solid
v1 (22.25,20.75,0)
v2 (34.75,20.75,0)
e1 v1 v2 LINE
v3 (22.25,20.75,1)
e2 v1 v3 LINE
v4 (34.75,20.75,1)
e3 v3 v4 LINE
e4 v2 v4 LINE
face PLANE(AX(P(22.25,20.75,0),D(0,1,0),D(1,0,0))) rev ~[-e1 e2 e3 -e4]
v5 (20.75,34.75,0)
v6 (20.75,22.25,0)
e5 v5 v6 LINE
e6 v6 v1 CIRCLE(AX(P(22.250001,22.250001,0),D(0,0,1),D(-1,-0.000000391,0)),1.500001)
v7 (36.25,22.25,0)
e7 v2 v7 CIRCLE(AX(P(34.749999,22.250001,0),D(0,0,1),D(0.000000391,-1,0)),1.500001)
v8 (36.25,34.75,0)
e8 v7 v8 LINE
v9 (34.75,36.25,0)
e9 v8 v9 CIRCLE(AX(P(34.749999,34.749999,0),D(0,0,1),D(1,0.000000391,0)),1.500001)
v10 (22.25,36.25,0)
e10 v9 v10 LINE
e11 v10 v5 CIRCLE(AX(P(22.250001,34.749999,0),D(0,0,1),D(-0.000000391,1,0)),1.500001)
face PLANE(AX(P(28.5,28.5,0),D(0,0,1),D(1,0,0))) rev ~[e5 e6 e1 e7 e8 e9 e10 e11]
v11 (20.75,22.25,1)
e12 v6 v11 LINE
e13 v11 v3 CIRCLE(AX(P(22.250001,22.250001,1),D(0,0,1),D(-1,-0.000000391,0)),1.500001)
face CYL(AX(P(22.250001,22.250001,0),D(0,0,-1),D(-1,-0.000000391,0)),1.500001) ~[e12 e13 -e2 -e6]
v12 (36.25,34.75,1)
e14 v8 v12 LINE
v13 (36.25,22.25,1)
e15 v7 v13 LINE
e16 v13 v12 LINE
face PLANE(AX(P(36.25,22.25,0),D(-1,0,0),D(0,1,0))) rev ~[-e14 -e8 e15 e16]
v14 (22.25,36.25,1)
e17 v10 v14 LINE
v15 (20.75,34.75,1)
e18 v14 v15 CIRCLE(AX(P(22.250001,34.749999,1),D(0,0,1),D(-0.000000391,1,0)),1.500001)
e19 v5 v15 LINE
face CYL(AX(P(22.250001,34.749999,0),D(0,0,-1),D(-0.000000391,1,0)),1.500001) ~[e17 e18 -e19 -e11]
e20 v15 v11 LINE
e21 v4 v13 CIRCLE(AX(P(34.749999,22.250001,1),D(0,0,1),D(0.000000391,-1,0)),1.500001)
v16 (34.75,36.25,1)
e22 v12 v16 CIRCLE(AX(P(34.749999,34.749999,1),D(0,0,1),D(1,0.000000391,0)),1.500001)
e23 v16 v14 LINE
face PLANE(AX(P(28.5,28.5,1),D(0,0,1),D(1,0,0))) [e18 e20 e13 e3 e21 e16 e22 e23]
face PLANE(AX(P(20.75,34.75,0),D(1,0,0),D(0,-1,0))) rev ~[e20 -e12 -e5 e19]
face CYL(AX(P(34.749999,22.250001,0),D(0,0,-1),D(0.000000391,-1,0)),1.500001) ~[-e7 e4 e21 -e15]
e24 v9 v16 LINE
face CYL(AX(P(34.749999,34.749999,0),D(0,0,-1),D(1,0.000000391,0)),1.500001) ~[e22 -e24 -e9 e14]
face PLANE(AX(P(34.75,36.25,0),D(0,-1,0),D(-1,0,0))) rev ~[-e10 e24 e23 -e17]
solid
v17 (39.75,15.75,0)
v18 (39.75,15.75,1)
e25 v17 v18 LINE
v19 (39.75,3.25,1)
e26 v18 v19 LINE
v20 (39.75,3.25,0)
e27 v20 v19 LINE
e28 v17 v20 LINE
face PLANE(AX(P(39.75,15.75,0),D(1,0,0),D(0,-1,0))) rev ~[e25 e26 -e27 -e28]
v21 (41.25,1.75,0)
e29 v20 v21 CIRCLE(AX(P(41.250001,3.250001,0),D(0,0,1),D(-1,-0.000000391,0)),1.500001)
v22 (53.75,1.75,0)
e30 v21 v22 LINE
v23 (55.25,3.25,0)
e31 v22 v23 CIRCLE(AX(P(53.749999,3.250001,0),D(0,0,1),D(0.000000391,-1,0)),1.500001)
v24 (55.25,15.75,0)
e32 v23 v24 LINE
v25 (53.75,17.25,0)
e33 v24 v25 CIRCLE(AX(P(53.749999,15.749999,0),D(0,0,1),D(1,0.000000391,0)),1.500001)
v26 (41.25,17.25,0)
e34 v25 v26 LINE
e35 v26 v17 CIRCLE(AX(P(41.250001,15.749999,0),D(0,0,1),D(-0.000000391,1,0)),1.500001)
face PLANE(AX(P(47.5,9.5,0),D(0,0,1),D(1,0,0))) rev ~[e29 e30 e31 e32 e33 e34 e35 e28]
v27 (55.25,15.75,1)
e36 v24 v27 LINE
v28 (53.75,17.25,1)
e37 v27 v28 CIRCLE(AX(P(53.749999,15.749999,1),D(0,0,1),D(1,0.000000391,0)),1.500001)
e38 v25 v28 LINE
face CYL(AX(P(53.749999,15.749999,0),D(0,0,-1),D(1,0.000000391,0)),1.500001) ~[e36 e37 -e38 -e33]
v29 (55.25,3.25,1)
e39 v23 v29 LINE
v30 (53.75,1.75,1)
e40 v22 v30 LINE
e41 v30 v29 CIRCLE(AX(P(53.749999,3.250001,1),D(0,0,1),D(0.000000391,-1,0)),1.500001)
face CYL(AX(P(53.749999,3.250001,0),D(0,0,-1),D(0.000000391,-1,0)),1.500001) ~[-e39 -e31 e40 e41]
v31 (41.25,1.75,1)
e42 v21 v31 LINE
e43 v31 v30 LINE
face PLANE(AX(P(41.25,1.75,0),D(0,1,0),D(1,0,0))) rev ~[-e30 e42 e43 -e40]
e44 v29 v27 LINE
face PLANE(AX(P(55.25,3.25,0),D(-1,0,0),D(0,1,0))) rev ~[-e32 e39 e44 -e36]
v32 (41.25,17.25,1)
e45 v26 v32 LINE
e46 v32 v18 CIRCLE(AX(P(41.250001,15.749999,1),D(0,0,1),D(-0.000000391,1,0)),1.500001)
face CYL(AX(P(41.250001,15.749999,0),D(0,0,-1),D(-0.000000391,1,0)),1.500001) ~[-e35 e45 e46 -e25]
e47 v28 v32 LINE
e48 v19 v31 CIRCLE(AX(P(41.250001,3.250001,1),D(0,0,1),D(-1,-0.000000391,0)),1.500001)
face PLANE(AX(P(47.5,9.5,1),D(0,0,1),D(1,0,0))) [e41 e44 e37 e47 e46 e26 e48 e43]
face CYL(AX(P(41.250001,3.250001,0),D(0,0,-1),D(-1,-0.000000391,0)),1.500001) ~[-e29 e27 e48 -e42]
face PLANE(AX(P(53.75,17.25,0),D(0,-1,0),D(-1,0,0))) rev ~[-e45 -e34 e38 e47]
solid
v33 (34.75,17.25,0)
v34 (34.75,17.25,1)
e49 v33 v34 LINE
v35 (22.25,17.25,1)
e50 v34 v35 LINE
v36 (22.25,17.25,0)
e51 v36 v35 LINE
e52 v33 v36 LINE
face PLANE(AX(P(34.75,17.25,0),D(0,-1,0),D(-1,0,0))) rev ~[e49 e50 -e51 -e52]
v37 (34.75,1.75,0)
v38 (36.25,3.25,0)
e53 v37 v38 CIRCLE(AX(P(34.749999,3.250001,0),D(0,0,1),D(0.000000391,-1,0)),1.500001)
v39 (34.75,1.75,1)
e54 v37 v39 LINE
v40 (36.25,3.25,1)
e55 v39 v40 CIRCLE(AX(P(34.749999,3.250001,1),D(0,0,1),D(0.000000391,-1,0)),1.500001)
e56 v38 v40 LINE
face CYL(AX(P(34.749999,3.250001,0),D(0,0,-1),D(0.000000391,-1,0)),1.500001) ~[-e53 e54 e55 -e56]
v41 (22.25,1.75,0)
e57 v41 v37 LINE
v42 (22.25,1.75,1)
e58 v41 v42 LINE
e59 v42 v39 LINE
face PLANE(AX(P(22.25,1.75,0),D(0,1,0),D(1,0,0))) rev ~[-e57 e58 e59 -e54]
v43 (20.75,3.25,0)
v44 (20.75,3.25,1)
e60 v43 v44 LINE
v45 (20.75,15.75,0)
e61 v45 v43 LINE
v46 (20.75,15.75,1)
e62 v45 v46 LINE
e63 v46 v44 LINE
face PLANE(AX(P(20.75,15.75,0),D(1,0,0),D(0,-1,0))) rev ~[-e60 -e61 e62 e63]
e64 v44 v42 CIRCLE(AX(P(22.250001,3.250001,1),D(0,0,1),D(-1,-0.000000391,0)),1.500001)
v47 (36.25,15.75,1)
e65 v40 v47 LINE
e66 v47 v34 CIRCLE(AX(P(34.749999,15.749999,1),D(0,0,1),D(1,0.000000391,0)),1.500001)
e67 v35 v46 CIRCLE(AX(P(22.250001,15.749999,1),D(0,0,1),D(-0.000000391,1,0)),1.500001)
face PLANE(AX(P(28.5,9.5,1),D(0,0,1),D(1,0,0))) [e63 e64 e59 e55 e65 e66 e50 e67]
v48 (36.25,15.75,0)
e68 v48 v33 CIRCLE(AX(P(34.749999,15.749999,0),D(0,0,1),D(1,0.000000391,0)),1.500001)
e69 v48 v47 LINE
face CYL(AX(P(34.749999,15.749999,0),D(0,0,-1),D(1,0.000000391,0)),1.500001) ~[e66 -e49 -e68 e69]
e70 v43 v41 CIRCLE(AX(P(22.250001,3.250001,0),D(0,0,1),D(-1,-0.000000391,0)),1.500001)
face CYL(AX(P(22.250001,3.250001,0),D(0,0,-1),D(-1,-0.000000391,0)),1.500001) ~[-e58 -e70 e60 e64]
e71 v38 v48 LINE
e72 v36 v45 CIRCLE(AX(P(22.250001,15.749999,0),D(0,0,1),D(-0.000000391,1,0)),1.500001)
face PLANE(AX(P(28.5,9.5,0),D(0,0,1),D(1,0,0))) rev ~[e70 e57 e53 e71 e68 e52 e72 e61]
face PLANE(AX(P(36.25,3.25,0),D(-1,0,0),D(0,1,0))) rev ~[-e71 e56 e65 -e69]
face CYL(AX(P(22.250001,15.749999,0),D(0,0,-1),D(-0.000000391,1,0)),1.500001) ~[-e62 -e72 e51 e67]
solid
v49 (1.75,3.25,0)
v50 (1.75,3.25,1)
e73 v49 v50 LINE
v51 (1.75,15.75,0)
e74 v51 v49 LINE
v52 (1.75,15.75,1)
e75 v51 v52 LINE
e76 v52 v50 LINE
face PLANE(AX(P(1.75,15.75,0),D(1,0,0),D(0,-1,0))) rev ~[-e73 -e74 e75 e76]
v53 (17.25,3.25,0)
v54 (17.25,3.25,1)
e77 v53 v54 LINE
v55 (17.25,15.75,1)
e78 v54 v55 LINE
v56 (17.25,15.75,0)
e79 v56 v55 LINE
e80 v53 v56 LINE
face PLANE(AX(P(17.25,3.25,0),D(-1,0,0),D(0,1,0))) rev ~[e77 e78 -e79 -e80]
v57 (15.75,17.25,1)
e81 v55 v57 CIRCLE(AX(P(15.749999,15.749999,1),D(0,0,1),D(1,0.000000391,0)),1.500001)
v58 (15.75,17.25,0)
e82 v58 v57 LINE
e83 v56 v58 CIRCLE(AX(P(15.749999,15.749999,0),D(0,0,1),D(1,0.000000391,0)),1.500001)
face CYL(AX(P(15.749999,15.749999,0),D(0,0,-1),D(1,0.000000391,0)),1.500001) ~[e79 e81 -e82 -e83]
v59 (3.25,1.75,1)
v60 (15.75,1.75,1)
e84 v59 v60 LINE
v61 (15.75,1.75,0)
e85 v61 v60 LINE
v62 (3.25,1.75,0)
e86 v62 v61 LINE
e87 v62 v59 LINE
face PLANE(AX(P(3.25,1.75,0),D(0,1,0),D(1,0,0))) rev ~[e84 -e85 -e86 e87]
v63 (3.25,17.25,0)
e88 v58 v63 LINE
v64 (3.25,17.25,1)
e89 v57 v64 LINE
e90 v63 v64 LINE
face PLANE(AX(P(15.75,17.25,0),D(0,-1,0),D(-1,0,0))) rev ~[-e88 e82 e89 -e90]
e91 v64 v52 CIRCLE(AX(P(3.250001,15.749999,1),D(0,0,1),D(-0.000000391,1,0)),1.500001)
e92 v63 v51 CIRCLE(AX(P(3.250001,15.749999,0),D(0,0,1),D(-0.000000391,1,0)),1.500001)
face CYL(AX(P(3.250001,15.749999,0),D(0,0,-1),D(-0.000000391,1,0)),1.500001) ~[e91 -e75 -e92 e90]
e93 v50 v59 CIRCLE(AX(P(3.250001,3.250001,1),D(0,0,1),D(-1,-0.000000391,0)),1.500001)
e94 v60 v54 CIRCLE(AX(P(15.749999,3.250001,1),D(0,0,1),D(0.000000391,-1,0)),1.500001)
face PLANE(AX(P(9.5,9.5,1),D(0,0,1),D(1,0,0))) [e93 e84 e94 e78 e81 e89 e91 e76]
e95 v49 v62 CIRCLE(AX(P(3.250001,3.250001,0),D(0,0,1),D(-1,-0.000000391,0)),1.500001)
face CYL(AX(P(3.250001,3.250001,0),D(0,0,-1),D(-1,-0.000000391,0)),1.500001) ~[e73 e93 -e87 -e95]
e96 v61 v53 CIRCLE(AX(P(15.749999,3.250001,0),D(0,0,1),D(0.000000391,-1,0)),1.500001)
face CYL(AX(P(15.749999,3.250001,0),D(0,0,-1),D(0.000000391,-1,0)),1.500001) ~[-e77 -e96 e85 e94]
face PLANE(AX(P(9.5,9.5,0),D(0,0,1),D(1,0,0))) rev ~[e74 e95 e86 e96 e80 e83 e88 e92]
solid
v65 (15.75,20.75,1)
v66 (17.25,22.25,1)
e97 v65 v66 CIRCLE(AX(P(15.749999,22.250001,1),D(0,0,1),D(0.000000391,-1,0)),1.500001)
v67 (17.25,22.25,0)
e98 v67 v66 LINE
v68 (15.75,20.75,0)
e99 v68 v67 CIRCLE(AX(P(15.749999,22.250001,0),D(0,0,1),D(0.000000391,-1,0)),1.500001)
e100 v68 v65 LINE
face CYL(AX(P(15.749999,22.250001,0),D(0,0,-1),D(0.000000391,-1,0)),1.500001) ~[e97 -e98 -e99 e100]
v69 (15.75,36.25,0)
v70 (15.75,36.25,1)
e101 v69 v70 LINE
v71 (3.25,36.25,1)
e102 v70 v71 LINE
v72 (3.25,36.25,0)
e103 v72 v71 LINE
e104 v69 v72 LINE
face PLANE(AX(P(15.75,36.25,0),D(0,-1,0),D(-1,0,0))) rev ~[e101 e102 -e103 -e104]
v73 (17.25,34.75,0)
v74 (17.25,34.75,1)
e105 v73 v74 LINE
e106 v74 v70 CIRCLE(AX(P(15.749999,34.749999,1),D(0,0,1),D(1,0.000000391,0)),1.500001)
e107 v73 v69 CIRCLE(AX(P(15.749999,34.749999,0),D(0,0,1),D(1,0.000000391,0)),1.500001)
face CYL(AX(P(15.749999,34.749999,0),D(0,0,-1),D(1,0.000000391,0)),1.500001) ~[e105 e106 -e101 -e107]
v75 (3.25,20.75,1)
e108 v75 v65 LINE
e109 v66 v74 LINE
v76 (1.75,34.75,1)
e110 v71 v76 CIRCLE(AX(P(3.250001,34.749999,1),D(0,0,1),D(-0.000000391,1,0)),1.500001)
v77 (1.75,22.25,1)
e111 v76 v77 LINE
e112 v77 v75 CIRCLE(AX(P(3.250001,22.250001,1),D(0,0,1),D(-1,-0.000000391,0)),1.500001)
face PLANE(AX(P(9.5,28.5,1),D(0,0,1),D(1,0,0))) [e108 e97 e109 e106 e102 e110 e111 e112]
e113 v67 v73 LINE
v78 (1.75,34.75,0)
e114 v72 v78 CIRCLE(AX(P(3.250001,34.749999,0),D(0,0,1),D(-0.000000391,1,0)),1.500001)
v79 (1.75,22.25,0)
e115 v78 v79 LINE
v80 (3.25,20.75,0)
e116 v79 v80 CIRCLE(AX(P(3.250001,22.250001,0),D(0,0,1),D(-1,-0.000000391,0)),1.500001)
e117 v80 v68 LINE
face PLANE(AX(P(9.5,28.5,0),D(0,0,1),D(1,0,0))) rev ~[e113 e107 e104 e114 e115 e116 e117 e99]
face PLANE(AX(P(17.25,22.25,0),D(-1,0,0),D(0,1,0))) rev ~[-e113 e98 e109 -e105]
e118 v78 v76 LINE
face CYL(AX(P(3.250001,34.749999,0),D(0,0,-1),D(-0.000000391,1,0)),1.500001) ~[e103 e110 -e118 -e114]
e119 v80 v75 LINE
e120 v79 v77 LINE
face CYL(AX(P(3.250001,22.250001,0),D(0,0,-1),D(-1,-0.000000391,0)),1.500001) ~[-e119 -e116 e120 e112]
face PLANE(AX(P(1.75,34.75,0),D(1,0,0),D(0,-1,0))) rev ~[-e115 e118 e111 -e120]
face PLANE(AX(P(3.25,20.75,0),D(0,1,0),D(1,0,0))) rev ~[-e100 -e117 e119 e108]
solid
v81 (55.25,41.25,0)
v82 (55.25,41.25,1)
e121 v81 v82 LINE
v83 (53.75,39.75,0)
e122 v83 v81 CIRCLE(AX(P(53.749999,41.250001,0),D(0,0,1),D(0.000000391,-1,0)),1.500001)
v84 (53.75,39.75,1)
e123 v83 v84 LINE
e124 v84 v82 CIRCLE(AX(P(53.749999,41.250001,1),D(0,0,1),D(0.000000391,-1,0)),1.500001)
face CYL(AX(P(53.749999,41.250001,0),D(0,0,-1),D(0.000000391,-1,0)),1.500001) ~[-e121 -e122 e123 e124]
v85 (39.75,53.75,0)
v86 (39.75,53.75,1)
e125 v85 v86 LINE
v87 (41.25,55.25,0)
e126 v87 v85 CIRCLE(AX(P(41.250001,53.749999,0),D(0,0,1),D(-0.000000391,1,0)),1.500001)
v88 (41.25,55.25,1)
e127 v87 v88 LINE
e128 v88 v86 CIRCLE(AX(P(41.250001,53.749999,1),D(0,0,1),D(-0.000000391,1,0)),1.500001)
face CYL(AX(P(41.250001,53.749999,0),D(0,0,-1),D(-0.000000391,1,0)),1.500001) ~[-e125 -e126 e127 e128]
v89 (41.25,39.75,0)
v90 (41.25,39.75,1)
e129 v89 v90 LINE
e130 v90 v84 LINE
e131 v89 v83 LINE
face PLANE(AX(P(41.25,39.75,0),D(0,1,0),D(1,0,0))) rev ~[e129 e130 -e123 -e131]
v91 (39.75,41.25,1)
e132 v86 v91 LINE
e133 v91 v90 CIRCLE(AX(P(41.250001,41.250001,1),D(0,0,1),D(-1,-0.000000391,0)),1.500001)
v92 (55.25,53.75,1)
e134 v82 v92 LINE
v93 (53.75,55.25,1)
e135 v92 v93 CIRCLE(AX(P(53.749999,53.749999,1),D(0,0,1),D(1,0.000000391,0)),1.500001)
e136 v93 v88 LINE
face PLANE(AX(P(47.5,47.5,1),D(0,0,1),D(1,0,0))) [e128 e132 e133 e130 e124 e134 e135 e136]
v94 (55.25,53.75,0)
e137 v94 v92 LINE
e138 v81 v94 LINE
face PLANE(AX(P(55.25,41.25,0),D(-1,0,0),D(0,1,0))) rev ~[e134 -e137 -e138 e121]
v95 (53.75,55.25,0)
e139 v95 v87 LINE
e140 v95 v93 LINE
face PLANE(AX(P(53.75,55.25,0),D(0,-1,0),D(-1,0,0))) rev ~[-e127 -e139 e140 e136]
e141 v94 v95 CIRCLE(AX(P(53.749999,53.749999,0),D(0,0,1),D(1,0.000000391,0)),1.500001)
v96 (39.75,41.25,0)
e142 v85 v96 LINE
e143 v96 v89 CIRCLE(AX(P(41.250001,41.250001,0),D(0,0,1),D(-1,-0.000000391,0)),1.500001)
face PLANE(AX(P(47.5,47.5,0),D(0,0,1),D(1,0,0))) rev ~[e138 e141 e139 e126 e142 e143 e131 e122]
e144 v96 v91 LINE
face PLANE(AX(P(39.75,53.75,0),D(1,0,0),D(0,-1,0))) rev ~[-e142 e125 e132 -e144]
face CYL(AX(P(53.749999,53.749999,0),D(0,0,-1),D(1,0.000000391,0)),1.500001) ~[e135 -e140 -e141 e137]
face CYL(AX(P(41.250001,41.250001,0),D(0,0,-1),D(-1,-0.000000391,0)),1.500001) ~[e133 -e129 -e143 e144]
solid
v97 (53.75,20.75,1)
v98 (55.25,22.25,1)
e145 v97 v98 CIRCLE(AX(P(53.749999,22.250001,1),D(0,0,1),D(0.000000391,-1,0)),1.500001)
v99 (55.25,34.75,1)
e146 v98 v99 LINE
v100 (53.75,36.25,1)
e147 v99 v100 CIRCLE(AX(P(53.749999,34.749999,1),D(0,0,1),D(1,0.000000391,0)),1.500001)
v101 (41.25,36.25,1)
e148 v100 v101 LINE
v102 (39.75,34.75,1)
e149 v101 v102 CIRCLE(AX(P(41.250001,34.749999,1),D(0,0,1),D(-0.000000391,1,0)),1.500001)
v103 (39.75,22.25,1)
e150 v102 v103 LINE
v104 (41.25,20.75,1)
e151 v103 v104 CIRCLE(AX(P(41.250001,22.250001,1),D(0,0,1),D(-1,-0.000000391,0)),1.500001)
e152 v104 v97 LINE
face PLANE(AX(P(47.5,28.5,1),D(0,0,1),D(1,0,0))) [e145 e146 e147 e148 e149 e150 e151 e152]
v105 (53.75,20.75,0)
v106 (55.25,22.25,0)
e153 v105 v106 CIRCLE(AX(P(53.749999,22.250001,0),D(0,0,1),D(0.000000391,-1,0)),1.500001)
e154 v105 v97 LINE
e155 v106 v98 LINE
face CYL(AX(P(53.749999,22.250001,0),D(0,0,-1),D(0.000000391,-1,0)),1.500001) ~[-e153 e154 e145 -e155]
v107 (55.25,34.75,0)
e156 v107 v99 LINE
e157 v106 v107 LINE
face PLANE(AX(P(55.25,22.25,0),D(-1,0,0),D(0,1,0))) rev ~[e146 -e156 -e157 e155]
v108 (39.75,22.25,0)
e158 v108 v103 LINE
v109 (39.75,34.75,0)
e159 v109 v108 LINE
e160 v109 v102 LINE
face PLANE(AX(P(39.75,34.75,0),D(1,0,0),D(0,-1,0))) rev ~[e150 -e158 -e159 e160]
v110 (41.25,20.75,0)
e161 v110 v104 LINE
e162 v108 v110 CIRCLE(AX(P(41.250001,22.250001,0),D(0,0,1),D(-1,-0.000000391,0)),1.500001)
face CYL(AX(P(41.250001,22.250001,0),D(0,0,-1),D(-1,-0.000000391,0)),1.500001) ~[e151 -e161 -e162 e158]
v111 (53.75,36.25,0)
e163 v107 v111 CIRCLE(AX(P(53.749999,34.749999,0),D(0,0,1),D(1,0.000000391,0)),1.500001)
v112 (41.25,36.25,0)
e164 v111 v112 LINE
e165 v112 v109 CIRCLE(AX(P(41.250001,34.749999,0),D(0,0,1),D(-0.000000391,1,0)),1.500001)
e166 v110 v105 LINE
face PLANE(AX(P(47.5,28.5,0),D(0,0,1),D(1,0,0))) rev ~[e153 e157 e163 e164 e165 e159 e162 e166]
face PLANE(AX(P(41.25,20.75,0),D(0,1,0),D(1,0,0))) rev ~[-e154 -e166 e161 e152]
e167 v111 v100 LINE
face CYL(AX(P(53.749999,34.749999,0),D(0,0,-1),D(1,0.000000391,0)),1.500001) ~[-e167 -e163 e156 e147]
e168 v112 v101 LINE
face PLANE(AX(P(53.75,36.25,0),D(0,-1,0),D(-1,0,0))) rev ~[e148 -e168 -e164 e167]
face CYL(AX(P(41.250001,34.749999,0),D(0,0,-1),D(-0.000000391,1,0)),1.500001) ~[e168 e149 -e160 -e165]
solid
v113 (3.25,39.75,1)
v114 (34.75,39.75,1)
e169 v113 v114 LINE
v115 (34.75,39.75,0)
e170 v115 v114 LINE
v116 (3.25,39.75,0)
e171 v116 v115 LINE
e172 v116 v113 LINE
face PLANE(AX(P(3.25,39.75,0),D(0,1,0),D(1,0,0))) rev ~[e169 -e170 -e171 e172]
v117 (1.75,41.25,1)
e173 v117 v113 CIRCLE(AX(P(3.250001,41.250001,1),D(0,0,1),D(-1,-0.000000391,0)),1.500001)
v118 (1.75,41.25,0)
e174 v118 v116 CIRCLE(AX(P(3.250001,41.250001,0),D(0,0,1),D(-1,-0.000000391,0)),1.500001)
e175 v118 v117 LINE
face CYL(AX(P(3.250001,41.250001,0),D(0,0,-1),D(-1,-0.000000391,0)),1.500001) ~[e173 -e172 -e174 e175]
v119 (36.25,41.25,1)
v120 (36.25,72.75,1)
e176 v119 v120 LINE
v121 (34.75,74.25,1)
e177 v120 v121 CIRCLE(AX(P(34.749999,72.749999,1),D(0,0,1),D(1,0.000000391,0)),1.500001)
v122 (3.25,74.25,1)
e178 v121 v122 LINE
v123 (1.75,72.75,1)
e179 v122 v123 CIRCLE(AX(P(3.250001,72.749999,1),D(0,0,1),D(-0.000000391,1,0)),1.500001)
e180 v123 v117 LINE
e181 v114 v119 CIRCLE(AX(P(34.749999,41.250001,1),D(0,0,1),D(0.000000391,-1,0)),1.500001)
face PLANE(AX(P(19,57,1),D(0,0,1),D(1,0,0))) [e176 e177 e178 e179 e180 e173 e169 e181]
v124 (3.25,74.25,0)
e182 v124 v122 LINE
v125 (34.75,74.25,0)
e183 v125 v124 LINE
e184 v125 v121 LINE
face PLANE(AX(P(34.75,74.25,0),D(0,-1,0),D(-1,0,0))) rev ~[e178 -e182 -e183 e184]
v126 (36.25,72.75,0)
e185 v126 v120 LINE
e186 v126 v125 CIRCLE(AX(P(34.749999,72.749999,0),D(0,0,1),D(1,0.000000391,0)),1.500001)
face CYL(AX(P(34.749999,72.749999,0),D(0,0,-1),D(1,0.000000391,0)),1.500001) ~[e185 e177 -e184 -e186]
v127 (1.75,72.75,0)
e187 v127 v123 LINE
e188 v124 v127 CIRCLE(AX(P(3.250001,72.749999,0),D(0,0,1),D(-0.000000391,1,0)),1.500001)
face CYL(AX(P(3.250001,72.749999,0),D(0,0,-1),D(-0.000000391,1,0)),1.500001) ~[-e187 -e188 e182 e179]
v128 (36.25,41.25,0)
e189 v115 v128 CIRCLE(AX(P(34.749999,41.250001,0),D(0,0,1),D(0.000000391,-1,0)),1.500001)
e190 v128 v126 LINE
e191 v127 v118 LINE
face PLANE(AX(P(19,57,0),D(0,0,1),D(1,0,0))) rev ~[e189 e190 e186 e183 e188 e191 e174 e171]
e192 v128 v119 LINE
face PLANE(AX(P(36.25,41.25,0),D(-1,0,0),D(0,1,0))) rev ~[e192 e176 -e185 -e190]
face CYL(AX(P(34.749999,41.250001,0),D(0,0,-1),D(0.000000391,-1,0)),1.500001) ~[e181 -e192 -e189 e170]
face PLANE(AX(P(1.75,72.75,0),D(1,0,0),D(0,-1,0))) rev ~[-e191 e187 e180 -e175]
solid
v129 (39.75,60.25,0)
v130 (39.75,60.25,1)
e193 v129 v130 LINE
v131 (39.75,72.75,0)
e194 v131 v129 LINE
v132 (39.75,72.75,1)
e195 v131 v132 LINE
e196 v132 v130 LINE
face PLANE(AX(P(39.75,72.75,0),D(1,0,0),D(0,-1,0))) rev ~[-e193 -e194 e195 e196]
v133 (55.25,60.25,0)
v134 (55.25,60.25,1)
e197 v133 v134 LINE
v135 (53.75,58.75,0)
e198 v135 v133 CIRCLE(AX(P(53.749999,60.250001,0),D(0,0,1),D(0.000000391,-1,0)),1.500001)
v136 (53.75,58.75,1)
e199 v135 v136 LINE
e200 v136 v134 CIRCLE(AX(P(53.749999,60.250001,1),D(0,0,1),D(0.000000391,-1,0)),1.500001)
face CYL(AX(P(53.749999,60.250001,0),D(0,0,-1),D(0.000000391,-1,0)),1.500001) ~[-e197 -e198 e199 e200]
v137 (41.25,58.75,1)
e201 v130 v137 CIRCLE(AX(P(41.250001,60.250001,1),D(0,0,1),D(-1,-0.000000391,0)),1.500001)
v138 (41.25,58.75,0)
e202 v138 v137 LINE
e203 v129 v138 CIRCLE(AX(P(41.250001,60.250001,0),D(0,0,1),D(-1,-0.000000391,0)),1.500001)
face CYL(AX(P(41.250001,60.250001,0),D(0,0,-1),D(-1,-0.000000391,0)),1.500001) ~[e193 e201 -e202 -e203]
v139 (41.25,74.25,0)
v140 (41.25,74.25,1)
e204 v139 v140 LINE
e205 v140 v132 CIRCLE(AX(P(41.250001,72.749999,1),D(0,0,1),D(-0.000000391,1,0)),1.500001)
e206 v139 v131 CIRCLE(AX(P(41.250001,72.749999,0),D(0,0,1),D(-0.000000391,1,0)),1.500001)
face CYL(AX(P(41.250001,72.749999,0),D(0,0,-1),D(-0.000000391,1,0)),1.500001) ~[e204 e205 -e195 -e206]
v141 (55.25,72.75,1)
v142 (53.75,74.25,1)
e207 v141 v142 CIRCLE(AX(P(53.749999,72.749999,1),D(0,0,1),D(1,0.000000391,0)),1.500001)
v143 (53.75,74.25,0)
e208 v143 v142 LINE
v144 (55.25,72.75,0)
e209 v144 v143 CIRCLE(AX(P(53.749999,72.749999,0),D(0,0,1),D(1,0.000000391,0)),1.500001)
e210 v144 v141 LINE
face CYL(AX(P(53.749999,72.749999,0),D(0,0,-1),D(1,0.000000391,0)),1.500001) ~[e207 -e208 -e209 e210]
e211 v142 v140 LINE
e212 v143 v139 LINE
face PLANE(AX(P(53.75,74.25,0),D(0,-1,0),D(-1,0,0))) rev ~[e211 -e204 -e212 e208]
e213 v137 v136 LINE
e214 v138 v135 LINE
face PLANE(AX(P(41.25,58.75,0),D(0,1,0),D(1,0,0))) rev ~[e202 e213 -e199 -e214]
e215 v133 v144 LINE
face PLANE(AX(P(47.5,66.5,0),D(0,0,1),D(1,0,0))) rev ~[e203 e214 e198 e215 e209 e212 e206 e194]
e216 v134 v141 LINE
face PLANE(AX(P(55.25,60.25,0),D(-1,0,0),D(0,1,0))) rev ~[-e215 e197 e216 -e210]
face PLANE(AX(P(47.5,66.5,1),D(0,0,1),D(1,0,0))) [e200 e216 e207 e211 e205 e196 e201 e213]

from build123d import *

# Parameters (mm, degrees)
F1_DEPTH = 1


with BuildPart() as f1:
    # F0 (on Top) → F1 (new body)
    with BuildSketch(Plane.XY):
        with BuildLine():
            Line((15.75, 17.25), (3.25, 17.25))
            ThreePointArc((3.25, 17.25), (2.18934, 16.81066), (1.75, 15.75))
            Line((1.75, 15.75), (1.75, 3.25))
            ThreePointArc((1.75, 3.25), (2.18934, 2.18934), (3.25, 1.75))
            Line((3.25, 1.75), (15.75, 1.75))
            ThreePointArc((15.75, 1.75), (16.81066, 2.18934), (17.25, 3.25))
            Line((17.25, 3.25), (17.25, 15.75))
            ThreePointArc((17.25, 15.75), (16.81066, 16.81066), (15.75, 17.25))
        make_face()
        with BuildLine():
            Line((17.25, 22.25), (17.25, 34.75))
            ThreePointArc((17.25, 34.75), (16.81066, 35.81066), (15.75, 36.25))
            Line((15.75, 36.25), (3.25, 36.25))
            ThreePointArc((3.25, 36.25), (2.18934, 35.81066), (1.75, 34.75))
            Line((1.75, 34.75), (1.75, 22.25))
            ThreePointArc((1.75, 22.25), (2.18934, 21.18934), (3.25, 20.75))
            Line((3.25, 20.75), (15.75, 20.75))
            ThreePointArc((15.75, 20.75), (16.81066, 21.18934), (17.25, 22.25))
        make_face()
        with BuildLine():
            Line((1.75, 53.75), (1.75, 41.25))
            ThreePointArc((1.75, 41.25), (2.18934, 40.18934), (3.25, 39.75))
            Line((3.25, 39.75), (15.75, 39.75))
            Line((15.75, 39.75), (22.25, 39.75))
            Line((22.25, 39.75), (34.75, 39.75))
            ThreePointArc((34.75, 39.75), (35.81066, 40.18934), (36.25, 41.25))
            Line((36.25, 41.25), (36.25, 53.75))
            Line((36.25, 53.75), (36.25, 60.25))
            Line((36.25, 60.25), (36.25, 72.75))
            ThreePointArc((36.25, 72.75), (35.81066, 73.81066), (34.75, 74.25))
            Line((34.75, 74.25), (22.25, 74.25))
            Line((22.25, 74.25), (15.75, 74.25))
            Line((15.75, 74.25), (3.25, 74.25))
            ThreePointArc((3.25, 74.25), (2.18934, 73.81066), (1.75, 72.75))
            Line((1.75, 72.75), (1.75, 60.25))
            Line((1.75, 60.25), (1.75, 53.75))
        make_face()
        with BuildLine():
            Line((36.25, 3.25), (36.25, 15.75))
            ThreePointArc((36.25, 15.75), (35.81066, 16.81066), (34.75, 17.25))
            Line((34.75, 17.25), (22.25, 17.25))
            ThreePointArc((22.25, 17.25), (21.18934, 16.81066), (20.75, 15.75))
            Line((20.75, 15.75), (20.75, 3.25))
            ThreePointArc((20.75, 3.25), (21.18934, 2.18934), (22.25, 1.75))
            Line((22.25, 1.75), (34.75, 1.75))
            ThreePointArc((34.75, 1.75), (35.81066, 2.18934), (36.25, 3.25))
        make_face()
        with BuildLine():
            Line((36.25, 22.25), (36.25, 34.75))
            ThreePointArc((36.25, 34.75), (35.81066, 35.81066), (34.75, 36.25))
            Line((34.75, 36.25), (22.25, 36.25))
            ThreePointArc((22.25, 36.25), (21.18934, 35.81066), (20.75, 34.75))
            Line((20.75, 34.75), (20.75, 22.25))
            ThreePointArc((20.75, 22.25), (21.18934, 21.18934), (22.25, 20.75))
            Line((22.25, 20.75), (34.75, 20.75))
            ThreePointArc((34.75, 20.75), (35.81066, 21.18934), (36.25, 22.25))
        make_face()
        with BuildLine():
            Line((55.25, 3.25), (55.25, 15.75))
            ThreePointArc((55.25, 15.75), (54.81066, 16.81066), (53.75, 17.25))
            Line((53.75, 17.25), (41.25, 17.25))
            ThreePointArc((41.25, 17.25), (40.18934, 16.81066), (39.75, 15.75))
            Line((39.75, 15.75), (39.75, 3.25))
            ThreePointArc((39.75, 3.25), (40.18934, 2.18934), (41.25, 1.75))
            Line((41.25, 1.75), (53.75, 1.75))
            ThreePointArc((53.75, 1.75), (54.81066, 2.18934), (55.25, 3.25))
        make_face()
        with BuildLine():
            Line((55.25, 22.25), (55.25, 34.75))
            ThreePointArc((55.25, 34.75), (54.81066, 35.81066), (53.75, 36.25))
            Line((53.75, 36.25), (41.25, 36.25))
            ThreePointArc((41.25, 36.25), (40.18934, 35.81066), (39.75, 34.75))
            Line((39.75, 34.75), (39.75, 22.25))
            ThreePointArc((39.75, 22.25), (40.18934, 21.18934), (41.25, 20.75))
            Line((41.25, 20.75), (53.75, 20.75))
            ThreePointArc((53.75, 20.75), (54.81066, 21.18934), (55.25, 22.25))
        make_face()
        with BuildLine():
            Line((55.25, 41.25), (55.25, 53.75))
            ThreePointArc((55.25, 53.75), (54.81066, 54.81066), (53.75, 55.25))
            Line((53.75, 55.25), (41.25, 55.25))
            ThreePointArc((41.25, 55.25), (40.18934, 54.81066), (39.75, 53.75))
            Line((39.75, 53.75), (39.75, 41.25))
            ThreePointArc((39.75, 41.25), (40.18934, 40.18934), (41.25, 39.75))
            Line((41.25, 39.75), (53.75, 39.75))
            ThreePointArc((53.75, 39.75), (54.81066, 40.18934), (55.25, 41.25))
        make_face()
        with BuildLine():
            Line((55.25, 60.25), (55.25, 72.75))
            ThreePointArc((55.25, 72.75), (54.81066, 73.81066), (53.75, 74.25))
            Line((53.75, 74.25), (41.25, 74.25))
            ThreePointArc((41.25, 74.25), (40.18934, 73.81066), (39.75, 72.75))
            Line((39.75, 72.75), (39.75, 60.25))
            ThreePointArc((39.75, 60.25), (40.18934, 59.18934), (41.25, 58.75))
            Line((41.25, 58.75), (53.75, 58.75))
            ThreePointArc((53.75, 58.75), (54.81066, 59.18934), (55.25, 60.25))
        make_face()
    extrude(amount=F1_DEPTH)


solid = f1.part
